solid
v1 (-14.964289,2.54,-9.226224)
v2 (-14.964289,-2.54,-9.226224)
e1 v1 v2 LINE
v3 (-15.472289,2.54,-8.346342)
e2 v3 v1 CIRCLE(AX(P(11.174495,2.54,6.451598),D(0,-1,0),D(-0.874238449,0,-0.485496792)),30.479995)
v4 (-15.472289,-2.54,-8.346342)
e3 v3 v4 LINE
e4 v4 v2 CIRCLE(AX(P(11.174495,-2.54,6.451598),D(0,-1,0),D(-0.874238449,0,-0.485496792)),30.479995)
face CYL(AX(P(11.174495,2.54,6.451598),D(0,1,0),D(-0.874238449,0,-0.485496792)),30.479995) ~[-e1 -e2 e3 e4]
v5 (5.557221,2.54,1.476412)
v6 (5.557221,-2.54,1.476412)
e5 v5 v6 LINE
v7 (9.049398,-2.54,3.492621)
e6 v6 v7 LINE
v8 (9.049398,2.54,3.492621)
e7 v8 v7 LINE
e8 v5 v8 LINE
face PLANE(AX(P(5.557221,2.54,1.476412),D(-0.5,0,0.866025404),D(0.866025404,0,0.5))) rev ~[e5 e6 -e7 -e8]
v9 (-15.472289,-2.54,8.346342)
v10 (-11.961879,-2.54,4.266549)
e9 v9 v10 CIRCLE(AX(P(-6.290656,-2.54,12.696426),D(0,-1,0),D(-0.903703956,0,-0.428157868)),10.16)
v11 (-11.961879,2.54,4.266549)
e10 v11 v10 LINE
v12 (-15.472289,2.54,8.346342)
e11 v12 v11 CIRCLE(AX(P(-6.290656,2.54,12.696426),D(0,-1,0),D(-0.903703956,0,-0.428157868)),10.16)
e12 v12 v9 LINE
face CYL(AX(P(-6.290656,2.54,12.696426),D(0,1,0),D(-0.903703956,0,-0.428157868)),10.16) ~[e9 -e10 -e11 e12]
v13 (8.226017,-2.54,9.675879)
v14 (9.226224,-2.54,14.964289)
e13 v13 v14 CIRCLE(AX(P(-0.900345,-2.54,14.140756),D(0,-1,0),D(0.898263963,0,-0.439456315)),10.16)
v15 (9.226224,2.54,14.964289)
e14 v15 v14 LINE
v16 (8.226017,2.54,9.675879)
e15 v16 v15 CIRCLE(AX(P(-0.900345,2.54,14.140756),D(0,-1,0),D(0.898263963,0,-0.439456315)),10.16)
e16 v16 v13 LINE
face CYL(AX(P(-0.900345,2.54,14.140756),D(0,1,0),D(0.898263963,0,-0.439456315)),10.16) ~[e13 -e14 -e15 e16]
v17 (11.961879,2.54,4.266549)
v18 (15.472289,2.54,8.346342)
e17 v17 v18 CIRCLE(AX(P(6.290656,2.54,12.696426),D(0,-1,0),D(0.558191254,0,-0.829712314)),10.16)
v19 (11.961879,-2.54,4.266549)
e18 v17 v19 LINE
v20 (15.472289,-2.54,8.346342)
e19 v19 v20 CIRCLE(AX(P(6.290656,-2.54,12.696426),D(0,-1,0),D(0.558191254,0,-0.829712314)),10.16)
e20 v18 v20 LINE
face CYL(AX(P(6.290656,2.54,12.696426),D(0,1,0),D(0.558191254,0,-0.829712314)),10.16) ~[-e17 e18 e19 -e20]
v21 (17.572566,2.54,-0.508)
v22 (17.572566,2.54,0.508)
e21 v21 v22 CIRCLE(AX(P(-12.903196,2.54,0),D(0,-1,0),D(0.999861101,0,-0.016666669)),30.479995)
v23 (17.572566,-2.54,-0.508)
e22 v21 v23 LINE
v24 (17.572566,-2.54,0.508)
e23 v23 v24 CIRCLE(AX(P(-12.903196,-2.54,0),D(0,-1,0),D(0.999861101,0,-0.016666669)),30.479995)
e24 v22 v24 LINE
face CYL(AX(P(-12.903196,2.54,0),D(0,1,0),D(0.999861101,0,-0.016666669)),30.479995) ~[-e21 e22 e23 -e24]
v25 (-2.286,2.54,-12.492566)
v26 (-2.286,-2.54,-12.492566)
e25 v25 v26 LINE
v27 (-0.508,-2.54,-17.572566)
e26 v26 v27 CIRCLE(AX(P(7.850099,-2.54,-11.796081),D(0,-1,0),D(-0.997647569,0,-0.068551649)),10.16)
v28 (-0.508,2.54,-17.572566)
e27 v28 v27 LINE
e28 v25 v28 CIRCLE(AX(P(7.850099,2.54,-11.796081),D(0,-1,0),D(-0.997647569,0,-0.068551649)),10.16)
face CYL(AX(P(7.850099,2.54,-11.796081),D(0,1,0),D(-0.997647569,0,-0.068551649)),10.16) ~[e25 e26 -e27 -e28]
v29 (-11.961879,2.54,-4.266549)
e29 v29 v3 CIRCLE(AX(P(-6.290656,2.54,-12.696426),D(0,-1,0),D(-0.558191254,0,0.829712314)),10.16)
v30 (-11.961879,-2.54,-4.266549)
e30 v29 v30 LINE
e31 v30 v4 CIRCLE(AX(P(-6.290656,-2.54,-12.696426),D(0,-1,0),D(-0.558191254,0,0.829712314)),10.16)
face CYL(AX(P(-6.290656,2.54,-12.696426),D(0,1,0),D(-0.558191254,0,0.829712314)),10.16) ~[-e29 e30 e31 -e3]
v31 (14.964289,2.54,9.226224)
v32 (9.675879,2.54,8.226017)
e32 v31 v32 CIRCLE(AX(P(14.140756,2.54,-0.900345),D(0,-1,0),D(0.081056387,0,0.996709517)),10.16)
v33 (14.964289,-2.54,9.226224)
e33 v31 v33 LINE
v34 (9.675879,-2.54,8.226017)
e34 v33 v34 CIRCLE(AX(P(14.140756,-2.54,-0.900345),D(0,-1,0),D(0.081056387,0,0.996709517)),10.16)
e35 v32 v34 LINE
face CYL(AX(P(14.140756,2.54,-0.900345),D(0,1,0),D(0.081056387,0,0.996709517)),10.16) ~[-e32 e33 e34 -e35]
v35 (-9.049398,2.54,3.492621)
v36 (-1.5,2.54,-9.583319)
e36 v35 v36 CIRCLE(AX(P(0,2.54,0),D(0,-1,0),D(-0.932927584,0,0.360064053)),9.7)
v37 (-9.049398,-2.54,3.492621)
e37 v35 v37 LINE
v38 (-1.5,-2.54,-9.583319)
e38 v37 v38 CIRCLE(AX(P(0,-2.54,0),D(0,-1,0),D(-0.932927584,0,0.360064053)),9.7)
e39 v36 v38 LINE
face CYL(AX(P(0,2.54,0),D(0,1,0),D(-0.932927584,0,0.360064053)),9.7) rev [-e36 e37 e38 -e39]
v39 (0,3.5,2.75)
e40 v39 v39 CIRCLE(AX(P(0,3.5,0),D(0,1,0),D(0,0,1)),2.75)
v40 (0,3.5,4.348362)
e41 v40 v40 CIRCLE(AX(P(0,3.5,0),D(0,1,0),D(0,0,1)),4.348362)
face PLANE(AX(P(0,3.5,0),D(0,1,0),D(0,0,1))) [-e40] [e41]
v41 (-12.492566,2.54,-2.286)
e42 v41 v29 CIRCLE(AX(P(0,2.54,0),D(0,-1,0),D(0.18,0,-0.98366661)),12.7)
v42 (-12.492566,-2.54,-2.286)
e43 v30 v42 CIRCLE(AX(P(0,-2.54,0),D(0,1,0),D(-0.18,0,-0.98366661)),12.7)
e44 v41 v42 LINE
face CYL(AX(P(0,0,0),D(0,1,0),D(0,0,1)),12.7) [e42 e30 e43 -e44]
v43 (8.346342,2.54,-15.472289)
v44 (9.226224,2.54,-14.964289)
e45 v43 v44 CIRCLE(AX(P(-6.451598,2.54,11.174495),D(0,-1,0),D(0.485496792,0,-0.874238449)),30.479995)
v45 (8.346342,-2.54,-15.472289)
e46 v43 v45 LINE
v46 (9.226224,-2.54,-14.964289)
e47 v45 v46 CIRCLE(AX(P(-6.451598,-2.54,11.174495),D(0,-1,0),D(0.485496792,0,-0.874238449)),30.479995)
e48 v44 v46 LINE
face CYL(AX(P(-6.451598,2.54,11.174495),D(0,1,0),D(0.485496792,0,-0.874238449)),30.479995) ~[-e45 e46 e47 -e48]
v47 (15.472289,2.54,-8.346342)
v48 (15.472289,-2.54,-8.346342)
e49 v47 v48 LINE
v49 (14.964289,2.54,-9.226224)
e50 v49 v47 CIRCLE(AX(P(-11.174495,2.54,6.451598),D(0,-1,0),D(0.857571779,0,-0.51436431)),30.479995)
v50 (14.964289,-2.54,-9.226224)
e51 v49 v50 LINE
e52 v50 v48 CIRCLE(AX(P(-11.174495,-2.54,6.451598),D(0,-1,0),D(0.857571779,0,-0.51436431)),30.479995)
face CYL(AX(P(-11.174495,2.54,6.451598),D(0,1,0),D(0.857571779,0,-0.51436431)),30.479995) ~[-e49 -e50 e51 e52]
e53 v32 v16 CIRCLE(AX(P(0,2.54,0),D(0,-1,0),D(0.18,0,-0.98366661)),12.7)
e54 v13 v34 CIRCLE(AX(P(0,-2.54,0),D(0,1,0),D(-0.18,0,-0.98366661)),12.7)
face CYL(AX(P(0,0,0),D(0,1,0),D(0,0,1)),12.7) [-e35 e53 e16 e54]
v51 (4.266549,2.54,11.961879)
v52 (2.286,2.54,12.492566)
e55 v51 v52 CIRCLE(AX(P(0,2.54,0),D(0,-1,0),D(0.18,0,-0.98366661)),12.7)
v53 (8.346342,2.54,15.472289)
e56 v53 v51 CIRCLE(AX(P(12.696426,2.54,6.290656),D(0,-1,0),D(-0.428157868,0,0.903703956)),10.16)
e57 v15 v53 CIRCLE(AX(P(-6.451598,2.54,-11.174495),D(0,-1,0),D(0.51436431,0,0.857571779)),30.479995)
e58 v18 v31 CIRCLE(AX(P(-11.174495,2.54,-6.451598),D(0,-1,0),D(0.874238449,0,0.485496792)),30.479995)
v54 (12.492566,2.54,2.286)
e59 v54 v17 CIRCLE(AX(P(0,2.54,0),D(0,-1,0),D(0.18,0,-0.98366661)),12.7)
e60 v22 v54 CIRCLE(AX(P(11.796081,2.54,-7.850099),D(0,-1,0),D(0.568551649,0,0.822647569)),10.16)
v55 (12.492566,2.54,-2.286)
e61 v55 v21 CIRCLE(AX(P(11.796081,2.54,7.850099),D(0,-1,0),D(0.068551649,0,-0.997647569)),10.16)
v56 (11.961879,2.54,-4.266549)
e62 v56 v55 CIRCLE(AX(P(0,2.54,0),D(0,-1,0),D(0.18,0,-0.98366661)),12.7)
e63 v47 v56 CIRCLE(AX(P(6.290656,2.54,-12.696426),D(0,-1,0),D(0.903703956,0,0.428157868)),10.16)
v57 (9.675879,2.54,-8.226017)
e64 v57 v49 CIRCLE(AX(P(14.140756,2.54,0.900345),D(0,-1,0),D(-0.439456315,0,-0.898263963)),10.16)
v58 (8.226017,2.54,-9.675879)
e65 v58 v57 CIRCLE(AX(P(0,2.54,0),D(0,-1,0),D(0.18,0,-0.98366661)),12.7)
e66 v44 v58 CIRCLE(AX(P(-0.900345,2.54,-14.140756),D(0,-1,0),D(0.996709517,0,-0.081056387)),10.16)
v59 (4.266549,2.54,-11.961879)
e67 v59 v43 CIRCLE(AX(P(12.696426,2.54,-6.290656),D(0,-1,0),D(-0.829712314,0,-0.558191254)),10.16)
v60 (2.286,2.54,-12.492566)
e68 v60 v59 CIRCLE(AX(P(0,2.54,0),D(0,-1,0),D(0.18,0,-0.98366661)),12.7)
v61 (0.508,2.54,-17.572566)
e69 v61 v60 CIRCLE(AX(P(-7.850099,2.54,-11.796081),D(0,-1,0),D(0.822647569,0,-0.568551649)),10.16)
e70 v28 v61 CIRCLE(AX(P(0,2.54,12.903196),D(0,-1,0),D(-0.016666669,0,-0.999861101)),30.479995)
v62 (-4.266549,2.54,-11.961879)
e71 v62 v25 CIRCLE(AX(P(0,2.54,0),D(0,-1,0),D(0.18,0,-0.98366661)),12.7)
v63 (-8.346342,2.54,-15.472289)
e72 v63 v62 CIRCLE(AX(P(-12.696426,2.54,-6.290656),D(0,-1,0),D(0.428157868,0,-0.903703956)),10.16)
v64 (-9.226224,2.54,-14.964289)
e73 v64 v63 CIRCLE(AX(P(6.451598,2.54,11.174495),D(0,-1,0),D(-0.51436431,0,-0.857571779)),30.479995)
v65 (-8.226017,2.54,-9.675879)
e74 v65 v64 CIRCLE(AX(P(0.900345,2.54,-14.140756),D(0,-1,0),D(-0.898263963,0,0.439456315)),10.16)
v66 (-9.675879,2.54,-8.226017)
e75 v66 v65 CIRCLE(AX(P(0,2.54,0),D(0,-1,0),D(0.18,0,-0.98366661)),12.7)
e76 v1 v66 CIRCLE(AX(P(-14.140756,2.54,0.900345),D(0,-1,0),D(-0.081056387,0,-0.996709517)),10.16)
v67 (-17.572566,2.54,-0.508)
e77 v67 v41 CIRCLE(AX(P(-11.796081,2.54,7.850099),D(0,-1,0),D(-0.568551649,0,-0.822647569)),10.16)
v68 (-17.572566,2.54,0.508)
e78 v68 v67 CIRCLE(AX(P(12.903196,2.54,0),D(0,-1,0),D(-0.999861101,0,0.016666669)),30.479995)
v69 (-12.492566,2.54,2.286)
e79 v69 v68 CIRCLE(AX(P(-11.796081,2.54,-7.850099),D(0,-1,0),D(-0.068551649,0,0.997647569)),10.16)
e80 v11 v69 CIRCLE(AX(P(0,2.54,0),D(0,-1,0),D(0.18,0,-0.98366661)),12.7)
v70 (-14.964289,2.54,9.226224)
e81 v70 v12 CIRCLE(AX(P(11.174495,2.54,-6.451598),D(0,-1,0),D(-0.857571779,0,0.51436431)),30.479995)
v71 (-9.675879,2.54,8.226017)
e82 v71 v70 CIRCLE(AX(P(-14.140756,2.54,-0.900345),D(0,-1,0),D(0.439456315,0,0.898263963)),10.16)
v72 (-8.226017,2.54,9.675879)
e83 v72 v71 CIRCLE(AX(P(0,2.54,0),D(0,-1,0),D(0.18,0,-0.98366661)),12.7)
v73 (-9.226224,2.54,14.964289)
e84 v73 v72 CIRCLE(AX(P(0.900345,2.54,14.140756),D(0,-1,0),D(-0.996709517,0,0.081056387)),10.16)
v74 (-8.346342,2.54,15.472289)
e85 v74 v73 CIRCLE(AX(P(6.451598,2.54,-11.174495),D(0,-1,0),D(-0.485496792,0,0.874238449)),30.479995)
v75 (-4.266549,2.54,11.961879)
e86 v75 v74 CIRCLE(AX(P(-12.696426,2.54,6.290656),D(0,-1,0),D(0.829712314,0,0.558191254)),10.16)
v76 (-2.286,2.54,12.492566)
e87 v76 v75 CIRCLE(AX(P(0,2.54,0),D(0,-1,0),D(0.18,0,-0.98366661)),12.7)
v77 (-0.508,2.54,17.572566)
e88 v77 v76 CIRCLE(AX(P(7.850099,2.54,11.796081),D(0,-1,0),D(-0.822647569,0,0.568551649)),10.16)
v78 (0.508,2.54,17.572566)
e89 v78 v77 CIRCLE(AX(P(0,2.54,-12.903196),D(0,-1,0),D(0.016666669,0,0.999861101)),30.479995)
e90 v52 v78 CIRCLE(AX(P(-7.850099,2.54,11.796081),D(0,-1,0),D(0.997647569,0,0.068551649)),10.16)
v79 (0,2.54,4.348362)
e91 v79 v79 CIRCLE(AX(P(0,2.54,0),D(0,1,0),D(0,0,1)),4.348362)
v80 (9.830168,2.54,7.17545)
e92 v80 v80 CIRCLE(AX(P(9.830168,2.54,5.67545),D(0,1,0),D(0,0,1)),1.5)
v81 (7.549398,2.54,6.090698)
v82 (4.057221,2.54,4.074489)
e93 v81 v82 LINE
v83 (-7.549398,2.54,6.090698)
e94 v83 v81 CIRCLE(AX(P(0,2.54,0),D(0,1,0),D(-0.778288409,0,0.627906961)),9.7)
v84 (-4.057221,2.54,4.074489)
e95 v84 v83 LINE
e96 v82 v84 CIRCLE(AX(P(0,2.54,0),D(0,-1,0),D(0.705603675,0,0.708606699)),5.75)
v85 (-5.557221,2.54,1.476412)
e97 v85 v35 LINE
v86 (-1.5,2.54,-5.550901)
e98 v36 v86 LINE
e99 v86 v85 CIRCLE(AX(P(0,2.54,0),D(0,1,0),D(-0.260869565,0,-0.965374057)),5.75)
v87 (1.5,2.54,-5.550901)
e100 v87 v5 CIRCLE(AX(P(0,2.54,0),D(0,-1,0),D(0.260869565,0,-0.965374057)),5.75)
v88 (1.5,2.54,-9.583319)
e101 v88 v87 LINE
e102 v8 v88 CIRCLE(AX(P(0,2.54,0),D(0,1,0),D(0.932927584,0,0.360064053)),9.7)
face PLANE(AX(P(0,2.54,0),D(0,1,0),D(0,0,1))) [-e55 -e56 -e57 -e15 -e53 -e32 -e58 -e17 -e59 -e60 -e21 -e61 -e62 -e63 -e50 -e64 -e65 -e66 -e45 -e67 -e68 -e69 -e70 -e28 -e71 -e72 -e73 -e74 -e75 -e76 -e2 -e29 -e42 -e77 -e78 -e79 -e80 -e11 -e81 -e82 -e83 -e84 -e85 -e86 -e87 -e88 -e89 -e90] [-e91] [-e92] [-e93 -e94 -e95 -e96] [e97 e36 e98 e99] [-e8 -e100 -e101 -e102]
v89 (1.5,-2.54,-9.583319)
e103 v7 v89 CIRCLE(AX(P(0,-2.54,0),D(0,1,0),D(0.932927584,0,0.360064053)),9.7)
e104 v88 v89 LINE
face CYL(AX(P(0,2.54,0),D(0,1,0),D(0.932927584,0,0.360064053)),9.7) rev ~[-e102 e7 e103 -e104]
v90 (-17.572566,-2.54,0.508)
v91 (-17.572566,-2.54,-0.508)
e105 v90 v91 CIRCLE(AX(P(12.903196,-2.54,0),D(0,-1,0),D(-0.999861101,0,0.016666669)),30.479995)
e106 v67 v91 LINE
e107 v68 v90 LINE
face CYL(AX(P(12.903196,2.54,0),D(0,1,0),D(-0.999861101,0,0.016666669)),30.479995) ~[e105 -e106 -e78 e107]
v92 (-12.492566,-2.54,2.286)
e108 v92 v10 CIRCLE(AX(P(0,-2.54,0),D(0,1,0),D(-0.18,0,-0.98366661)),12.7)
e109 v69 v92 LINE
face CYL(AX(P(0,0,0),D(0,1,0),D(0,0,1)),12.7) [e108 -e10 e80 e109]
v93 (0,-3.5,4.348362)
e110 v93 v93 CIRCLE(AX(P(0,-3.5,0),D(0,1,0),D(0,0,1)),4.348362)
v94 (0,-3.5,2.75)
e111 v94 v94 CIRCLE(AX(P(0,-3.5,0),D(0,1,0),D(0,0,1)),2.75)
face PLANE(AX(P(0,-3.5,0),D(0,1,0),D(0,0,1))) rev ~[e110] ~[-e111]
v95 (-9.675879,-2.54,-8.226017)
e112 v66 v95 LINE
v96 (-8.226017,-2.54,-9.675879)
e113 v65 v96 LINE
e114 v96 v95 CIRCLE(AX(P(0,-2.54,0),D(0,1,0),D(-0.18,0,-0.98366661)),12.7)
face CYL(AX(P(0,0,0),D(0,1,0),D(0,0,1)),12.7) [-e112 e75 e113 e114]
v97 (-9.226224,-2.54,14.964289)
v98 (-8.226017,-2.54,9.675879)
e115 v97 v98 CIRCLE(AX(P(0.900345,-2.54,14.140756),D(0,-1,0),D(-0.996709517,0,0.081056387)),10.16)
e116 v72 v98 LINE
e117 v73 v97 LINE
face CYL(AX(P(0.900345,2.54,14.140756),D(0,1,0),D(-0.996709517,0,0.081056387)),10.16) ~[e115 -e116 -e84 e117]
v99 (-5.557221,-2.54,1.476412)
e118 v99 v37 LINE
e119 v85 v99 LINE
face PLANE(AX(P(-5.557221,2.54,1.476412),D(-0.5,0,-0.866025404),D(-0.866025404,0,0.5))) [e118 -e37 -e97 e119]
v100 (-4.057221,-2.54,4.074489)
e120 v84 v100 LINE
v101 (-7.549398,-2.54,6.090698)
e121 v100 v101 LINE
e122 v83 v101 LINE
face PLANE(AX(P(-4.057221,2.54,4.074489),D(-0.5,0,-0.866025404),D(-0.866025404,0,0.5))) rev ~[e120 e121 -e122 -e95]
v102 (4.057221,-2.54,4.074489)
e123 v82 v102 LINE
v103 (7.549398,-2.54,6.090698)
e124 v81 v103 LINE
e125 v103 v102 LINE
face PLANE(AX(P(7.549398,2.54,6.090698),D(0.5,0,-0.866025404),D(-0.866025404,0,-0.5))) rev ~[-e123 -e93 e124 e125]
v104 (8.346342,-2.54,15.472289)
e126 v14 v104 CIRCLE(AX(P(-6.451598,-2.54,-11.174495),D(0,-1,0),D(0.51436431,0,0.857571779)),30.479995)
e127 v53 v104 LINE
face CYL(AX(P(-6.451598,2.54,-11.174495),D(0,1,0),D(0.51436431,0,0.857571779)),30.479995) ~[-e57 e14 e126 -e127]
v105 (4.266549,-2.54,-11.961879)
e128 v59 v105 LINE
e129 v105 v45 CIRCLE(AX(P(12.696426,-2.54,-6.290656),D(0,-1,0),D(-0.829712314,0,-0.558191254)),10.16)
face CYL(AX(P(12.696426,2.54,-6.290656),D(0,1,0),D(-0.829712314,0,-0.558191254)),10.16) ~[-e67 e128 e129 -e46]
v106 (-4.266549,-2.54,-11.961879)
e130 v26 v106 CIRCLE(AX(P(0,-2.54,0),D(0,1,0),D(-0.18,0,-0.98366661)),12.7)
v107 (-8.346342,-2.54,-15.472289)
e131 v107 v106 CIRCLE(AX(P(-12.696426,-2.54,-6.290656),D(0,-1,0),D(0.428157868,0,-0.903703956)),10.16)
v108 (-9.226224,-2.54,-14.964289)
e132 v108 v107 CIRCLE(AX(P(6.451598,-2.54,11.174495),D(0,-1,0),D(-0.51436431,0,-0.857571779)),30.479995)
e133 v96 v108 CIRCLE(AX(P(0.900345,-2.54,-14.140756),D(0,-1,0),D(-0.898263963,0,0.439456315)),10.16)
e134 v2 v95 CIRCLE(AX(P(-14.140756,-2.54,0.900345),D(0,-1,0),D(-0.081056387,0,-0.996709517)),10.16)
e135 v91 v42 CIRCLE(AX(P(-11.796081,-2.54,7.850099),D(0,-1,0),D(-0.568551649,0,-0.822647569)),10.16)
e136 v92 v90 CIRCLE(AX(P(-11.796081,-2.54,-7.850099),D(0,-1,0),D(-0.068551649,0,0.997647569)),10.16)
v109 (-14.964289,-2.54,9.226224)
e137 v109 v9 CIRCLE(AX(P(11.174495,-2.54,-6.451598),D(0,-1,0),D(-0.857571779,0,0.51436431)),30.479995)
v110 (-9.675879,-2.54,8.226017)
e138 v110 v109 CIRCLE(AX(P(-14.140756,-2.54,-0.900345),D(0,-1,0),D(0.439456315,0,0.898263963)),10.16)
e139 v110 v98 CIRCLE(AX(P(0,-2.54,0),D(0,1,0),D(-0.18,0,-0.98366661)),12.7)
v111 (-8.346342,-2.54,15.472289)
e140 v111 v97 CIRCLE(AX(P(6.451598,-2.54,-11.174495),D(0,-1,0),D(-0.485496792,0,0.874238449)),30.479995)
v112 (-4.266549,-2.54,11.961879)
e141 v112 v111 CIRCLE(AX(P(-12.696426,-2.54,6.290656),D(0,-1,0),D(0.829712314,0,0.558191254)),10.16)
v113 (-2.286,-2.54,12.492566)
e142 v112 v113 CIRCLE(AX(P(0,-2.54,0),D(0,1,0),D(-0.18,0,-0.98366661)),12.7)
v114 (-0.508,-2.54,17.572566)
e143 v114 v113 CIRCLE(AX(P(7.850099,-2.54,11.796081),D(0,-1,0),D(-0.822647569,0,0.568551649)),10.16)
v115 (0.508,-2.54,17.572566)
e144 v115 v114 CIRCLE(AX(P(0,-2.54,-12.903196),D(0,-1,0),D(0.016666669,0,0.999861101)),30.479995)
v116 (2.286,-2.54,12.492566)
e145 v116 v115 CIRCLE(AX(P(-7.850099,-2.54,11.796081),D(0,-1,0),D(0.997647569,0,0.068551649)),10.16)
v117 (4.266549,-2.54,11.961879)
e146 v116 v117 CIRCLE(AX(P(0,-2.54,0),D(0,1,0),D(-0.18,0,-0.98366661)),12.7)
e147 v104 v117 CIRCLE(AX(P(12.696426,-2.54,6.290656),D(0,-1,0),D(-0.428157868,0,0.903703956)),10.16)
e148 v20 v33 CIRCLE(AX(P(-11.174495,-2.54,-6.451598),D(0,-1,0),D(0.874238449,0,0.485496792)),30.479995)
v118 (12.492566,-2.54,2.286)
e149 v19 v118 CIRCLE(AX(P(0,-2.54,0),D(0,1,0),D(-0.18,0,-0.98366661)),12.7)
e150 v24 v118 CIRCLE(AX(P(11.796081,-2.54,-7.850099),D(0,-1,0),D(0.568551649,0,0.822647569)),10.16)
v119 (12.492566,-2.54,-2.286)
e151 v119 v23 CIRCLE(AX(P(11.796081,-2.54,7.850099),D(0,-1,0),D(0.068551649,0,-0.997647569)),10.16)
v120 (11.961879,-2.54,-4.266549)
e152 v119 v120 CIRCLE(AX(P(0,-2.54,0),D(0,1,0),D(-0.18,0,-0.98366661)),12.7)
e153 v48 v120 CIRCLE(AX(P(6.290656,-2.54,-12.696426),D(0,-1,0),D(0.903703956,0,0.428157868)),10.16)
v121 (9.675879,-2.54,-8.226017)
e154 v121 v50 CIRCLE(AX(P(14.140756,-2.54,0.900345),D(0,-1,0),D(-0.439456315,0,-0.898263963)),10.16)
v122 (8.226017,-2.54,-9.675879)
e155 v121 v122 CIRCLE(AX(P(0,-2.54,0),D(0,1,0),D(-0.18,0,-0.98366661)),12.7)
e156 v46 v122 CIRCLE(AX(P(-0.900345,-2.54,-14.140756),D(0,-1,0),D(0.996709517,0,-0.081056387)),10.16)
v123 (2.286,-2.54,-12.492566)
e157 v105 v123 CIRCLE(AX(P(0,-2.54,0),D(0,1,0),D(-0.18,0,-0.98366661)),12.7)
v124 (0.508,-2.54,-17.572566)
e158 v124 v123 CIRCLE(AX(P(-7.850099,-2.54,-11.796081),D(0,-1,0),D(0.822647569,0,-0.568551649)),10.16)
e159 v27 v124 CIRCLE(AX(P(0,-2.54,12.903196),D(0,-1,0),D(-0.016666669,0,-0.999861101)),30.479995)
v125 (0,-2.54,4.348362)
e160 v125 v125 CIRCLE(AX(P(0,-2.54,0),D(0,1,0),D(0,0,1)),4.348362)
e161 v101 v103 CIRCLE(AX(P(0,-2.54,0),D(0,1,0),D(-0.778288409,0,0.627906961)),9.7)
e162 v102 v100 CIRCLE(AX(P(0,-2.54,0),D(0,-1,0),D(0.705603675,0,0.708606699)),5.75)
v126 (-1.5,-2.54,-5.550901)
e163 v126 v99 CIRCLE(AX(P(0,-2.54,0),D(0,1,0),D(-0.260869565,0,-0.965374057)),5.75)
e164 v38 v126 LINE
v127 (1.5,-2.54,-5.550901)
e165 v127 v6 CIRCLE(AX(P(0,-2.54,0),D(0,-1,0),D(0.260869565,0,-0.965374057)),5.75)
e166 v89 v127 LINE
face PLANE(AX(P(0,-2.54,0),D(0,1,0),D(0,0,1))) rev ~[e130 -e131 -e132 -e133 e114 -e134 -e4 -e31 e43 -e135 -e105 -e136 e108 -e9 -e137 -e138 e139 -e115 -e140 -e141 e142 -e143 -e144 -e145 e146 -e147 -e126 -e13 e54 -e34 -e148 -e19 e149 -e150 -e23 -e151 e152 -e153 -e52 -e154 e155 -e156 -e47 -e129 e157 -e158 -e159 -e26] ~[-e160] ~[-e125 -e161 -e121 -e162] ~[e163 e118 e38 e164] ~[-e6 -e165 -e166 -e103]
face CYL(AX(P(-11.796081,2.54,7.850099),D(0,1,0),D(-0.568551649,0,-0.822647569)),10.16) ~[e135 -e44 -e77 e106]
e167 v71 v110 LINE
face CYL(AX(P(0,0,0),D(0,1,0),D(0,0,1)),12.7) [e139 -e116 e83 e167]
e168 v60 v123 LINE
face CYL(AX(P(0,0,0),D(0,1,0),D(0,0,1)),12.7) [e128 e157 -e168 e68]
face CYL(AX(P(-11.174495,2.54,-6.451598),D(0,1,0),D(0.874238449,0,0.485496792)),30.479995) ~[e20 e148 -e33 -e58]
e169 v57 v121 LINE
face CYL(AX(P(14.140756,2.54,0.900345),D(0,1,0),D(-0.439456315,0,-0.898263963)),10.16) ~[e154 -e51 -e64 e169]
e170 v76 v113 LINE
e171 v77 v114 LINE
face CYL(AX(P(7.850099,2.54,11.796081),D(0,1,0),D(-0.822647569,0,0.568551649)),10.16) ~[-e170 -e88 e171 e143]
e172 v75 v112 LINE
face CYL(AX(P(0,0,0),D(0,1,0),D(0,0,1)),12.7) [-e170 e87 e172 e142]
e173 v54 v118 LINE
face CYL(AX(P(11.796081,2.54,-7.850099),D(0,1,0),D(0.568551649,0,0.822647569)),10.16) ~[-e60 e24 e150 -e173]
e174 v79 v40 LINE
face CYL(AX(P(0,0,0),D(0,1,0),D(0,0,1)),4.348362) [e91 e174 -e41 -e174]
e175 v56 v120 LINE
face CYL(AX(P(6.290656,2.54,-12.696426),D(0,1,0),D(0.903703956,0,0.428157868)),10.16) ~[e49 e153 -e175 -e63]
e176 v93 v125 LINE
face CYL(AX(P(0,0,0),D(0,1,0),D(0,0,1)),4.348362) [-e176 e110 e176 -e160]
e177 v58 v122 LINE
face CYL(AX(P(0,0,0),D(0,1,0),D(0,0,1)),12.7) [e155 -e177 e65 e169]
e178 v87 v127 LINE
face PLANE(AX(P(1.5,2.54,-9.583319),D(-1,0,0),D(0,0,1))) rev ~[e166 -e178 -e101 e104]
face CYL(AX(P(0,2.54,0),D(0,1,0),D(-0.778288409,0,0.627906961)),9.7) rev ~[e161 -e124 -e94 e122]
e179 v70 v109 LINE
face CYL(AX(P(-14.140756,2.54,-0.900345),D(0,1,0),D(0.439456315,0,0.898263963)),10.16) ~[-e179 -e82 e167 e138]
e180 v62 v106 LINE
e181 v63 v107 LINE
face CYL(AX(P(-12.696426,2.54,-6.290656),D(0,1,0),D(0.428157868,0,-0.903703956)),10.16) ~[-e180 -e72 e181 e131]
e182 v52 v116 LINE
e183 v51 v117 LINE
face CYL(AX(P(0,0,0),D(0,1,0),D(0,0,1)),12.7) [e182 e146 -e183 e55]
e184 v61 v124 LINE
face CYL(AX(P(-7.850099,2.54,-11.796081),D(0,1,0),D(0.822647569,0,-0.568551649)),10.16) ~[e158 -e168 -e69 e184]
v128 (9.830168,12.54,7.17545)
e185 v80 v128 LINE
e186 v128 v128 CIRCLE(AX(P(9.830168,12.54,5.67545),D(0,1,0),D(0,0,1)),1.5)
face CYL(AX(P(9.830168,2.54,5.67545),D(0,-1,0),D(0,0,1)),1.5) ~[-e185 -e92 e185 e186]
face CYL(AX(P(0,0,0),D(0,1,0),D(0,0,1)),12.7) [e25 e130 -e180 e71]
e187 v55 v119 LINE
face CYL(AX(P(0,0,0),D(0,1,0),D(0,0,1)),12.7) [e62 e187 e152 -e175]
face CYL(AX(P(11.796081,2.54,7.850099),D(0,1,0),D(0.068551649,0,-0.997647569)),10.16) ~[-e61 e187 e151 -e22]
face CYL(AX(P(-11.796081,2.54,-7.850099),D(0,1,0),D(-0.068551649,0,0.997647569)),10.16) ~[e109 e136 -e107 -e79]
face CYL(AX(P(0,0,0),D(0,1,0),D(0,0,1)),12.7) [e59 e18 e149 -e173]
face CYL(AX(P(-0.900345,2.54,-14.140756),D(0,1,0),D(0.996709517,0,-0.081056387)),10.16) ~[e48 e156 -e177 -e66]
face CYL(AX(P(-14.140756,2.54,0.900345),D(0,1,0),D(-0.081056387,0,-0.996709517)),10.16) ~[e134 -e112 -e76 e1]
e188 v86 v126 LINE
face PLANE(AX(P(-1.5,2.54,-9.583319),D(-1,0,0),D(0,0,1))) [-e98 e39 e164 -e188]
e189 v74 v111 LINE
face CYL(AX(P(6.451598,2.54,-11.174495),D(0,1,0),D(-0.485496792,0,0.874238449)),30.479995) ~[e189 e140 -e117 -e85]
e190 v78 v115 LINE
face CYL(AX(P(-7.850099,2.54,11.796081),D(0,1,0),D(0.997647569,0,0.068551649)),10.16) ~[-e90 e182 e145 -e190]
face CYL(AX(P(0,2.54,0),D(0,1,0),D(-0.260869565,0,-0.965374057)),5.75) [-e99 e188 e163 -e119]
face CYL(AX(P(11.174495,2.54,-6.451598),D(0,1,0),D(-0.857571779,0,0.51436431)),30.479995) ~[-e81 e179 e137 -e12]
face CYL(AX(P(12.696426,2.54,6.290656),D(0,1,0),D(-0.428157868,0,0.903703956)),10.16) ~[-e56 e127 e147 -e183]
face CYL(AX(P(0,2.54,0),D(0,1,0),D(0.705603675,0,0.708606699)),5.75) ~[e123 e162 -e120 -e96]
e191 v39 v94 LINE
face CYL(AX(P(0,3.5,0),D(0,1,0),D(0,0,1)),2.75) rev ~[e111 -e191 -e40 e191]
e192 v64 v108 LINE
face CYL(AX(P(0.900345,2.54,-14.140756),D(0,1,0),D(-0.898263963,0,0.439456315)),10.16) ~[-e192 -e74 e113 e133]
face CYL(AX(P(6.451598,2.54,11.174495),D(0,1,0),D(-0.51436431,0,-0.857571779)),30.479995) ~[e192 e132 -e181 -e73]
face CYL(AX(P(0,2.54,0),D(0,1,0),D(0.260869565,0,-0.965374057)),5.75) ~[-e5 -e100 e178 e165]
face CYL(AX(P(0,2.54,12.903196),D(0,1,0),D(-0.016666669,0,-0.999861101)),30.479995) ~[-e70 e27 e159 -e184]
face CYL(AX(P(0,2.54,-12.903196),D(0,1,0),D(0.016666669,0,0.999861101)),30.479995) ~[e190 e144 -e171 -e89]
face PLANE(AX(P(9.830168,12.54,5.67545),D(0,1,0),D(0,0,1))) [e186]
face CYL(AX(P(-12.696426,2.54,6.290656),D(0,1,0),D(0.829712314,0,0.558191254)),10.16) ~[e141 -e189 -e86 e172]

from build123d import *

# Parameters (mm, degrees)
BASE_PROFILE_R          = 12.7
GEAR_BASE_DEPTH         = 2.54
GEAR_START              = 2.54
GEAR_TOOTH_DEPTH        = 5.08
PATTERN_TOOTH_12T_COUNT = 12
LIP_PROFILE_R           = 4.348362351
LIP_DEPTH               = 3.5
SHAFT_START             = 0.96
HOLE_PROFILE_R          = 2.75
SHAFT_HOLE_DEPTH        = 7
GEAR_CUTOUT_DEPTH       = 5.08
HANDLE_PROFILE_R        = 1.5
HANDLE_DEPTH            = 10


with BuildPart() as part:
    # Base Profile → Gear Base (new, symmetric)
    with BuildSketch(Plane(origin=(0, 0, 0), x_dir=(1, 0, 0), z_dir=(0, 1, 0))):
        with Locations(Location((0, 0, 0), (0, 0, 270))):
            Circle(BASE_PROFILE_R)
    extrude(amount=GEAR_BASE_DEPTH, both=True)

    # Tooth Profile → Gear Tooth (add)
    with BuildSketch(Plane(origin=(0, 0, 0), x_dir=(1, 0, 0), z_dir=(0, 1, 0)).offset(GEAR_START)):
        with BuildLine():
            ThreePointArc((-2.286, 12.492565949), (-1.739501602, 15.15244151), (-0.508, 17.572565949))
            ThreePointArc((-0.508, 17.572565949), (0, 17.576799577), (0.508, 17.572565949))
            ThreePointArc((0.508, 17.572565949), (1.739501602, 15.15244151), (2.286, 12.492565949))
            ThreePointArc((2.286, 12.492565949), (0, 12.7), (-2.286, 12.492565949))
        make_face()
    gear_tooth = extrude(amount=-GEAR_TOOTH_DEPTH)

    # Pattern Tooth (12T): Gear Tooth ×12 about axis
    pattern_tooth_12t_axis = Axis((0, 0, 0), (0, 1, 0))
    for i in range(1, PATTERN_TOOTH_12T_COUNT):
        add(gear_tooth.rotate(pattern_tooth_12t_axis, i * 360 / PATTERN_TOOTH_12T_COUNT))

    # Lip Profile → Lip (add, symmetric)
    with BuildSketch(Plane(origin=(0, 0, 0), x_dir=(1, 0, 0), z_dir=(0, 1, 0))):
        with Locations(Location((0, 0, 0), (0, 0, 270))):
            Circle(LIP_PROFILE_R)
    extrude(amount=LIP_DEPTH, both=True)

    # Hole Profile → Shaft Hole (cut)
    with BuildSketch(Plane(origin=(0, 2.54, 0), x_dir=(1, 0, 0), z_dir=(0, 1, 0)).offset(SHAFT_START)):
        with Locations(Location((0, 0, 0), (0, 0, 270))):
            Circle(HOLE_PROFILE_R)
    extrude(amount=-SHAFT_HOLE_DEPTH, mode=Mode.SUBTRACT)

    # Cutout Profile → Gear Cutout (cut)
    with BuildSketch(Plane(origin=(0, 2.54, 0), x_dir=(1, 0, 0), z_dir=(0, 1, 0))):
        with BuildLine():
            Line((-1.5, 9.583318841), (-1.5, 5.550900828))
            ThreePointArc((-1.5, 5.550900828), (-4.979646072, 2.875), (-5.557221131, -1.476412308))
            Line((-5.557221131, -1.476412308), (-9.049397568, -3.492621315))
            ThreePointArc((-9.049397568, -3.492621315), (-8.400446417, 4.85), (-1.5, 9.583318841))
        make_face()
        with BuildLine():
            Line((1.5, 9.583318841), (1.5, 5.550900828))
            ThreePointArc((1.5, 5.550900828), (4.979646072, 2.875), (5.557221131, -1.476412308))
            Line((5.557221131, -1.476412308), (9.049397568, -3.492621315))
            ThreePointArc((9.049397568, -3.492621315), (8.400446417, 4.85), (1.5, 9.583318841))
        make_face()
        with BuildLine():
            Line((7.549397568, -6.090697526), (4.057221131, -4.07448852))
            ThreePointArc((4.057221131, -4.07448852), (0, -5.75), (-4.057221131, -4.07448852))
            Line((-4.057221131, -4.07448852), (-7.549397568, -6.090697526))
            ThreePointArc((-7.549397568, -6.090697526), (0, -9.7), (7.549397568, -6.090697526))
        make_face()
    extrude(amount=-GEAR_CUTOUT_DEPTH, mode=Mode.SUBTRACT)

    # Handle Profile → Handle (add)
    with BuildSketch(Plane(origin=(0, 2.54, 0), x_dir=(1, 0, 0), z_dir=(0, 1, 0))):
        with Locations(Location((9.830168473, -5.675450414, 0), (0, 0, 270))):
            Circle(HANDLE_PROFILE_R)
    extrude(amount=HANDLE_DEPTH)


solid = part.part
